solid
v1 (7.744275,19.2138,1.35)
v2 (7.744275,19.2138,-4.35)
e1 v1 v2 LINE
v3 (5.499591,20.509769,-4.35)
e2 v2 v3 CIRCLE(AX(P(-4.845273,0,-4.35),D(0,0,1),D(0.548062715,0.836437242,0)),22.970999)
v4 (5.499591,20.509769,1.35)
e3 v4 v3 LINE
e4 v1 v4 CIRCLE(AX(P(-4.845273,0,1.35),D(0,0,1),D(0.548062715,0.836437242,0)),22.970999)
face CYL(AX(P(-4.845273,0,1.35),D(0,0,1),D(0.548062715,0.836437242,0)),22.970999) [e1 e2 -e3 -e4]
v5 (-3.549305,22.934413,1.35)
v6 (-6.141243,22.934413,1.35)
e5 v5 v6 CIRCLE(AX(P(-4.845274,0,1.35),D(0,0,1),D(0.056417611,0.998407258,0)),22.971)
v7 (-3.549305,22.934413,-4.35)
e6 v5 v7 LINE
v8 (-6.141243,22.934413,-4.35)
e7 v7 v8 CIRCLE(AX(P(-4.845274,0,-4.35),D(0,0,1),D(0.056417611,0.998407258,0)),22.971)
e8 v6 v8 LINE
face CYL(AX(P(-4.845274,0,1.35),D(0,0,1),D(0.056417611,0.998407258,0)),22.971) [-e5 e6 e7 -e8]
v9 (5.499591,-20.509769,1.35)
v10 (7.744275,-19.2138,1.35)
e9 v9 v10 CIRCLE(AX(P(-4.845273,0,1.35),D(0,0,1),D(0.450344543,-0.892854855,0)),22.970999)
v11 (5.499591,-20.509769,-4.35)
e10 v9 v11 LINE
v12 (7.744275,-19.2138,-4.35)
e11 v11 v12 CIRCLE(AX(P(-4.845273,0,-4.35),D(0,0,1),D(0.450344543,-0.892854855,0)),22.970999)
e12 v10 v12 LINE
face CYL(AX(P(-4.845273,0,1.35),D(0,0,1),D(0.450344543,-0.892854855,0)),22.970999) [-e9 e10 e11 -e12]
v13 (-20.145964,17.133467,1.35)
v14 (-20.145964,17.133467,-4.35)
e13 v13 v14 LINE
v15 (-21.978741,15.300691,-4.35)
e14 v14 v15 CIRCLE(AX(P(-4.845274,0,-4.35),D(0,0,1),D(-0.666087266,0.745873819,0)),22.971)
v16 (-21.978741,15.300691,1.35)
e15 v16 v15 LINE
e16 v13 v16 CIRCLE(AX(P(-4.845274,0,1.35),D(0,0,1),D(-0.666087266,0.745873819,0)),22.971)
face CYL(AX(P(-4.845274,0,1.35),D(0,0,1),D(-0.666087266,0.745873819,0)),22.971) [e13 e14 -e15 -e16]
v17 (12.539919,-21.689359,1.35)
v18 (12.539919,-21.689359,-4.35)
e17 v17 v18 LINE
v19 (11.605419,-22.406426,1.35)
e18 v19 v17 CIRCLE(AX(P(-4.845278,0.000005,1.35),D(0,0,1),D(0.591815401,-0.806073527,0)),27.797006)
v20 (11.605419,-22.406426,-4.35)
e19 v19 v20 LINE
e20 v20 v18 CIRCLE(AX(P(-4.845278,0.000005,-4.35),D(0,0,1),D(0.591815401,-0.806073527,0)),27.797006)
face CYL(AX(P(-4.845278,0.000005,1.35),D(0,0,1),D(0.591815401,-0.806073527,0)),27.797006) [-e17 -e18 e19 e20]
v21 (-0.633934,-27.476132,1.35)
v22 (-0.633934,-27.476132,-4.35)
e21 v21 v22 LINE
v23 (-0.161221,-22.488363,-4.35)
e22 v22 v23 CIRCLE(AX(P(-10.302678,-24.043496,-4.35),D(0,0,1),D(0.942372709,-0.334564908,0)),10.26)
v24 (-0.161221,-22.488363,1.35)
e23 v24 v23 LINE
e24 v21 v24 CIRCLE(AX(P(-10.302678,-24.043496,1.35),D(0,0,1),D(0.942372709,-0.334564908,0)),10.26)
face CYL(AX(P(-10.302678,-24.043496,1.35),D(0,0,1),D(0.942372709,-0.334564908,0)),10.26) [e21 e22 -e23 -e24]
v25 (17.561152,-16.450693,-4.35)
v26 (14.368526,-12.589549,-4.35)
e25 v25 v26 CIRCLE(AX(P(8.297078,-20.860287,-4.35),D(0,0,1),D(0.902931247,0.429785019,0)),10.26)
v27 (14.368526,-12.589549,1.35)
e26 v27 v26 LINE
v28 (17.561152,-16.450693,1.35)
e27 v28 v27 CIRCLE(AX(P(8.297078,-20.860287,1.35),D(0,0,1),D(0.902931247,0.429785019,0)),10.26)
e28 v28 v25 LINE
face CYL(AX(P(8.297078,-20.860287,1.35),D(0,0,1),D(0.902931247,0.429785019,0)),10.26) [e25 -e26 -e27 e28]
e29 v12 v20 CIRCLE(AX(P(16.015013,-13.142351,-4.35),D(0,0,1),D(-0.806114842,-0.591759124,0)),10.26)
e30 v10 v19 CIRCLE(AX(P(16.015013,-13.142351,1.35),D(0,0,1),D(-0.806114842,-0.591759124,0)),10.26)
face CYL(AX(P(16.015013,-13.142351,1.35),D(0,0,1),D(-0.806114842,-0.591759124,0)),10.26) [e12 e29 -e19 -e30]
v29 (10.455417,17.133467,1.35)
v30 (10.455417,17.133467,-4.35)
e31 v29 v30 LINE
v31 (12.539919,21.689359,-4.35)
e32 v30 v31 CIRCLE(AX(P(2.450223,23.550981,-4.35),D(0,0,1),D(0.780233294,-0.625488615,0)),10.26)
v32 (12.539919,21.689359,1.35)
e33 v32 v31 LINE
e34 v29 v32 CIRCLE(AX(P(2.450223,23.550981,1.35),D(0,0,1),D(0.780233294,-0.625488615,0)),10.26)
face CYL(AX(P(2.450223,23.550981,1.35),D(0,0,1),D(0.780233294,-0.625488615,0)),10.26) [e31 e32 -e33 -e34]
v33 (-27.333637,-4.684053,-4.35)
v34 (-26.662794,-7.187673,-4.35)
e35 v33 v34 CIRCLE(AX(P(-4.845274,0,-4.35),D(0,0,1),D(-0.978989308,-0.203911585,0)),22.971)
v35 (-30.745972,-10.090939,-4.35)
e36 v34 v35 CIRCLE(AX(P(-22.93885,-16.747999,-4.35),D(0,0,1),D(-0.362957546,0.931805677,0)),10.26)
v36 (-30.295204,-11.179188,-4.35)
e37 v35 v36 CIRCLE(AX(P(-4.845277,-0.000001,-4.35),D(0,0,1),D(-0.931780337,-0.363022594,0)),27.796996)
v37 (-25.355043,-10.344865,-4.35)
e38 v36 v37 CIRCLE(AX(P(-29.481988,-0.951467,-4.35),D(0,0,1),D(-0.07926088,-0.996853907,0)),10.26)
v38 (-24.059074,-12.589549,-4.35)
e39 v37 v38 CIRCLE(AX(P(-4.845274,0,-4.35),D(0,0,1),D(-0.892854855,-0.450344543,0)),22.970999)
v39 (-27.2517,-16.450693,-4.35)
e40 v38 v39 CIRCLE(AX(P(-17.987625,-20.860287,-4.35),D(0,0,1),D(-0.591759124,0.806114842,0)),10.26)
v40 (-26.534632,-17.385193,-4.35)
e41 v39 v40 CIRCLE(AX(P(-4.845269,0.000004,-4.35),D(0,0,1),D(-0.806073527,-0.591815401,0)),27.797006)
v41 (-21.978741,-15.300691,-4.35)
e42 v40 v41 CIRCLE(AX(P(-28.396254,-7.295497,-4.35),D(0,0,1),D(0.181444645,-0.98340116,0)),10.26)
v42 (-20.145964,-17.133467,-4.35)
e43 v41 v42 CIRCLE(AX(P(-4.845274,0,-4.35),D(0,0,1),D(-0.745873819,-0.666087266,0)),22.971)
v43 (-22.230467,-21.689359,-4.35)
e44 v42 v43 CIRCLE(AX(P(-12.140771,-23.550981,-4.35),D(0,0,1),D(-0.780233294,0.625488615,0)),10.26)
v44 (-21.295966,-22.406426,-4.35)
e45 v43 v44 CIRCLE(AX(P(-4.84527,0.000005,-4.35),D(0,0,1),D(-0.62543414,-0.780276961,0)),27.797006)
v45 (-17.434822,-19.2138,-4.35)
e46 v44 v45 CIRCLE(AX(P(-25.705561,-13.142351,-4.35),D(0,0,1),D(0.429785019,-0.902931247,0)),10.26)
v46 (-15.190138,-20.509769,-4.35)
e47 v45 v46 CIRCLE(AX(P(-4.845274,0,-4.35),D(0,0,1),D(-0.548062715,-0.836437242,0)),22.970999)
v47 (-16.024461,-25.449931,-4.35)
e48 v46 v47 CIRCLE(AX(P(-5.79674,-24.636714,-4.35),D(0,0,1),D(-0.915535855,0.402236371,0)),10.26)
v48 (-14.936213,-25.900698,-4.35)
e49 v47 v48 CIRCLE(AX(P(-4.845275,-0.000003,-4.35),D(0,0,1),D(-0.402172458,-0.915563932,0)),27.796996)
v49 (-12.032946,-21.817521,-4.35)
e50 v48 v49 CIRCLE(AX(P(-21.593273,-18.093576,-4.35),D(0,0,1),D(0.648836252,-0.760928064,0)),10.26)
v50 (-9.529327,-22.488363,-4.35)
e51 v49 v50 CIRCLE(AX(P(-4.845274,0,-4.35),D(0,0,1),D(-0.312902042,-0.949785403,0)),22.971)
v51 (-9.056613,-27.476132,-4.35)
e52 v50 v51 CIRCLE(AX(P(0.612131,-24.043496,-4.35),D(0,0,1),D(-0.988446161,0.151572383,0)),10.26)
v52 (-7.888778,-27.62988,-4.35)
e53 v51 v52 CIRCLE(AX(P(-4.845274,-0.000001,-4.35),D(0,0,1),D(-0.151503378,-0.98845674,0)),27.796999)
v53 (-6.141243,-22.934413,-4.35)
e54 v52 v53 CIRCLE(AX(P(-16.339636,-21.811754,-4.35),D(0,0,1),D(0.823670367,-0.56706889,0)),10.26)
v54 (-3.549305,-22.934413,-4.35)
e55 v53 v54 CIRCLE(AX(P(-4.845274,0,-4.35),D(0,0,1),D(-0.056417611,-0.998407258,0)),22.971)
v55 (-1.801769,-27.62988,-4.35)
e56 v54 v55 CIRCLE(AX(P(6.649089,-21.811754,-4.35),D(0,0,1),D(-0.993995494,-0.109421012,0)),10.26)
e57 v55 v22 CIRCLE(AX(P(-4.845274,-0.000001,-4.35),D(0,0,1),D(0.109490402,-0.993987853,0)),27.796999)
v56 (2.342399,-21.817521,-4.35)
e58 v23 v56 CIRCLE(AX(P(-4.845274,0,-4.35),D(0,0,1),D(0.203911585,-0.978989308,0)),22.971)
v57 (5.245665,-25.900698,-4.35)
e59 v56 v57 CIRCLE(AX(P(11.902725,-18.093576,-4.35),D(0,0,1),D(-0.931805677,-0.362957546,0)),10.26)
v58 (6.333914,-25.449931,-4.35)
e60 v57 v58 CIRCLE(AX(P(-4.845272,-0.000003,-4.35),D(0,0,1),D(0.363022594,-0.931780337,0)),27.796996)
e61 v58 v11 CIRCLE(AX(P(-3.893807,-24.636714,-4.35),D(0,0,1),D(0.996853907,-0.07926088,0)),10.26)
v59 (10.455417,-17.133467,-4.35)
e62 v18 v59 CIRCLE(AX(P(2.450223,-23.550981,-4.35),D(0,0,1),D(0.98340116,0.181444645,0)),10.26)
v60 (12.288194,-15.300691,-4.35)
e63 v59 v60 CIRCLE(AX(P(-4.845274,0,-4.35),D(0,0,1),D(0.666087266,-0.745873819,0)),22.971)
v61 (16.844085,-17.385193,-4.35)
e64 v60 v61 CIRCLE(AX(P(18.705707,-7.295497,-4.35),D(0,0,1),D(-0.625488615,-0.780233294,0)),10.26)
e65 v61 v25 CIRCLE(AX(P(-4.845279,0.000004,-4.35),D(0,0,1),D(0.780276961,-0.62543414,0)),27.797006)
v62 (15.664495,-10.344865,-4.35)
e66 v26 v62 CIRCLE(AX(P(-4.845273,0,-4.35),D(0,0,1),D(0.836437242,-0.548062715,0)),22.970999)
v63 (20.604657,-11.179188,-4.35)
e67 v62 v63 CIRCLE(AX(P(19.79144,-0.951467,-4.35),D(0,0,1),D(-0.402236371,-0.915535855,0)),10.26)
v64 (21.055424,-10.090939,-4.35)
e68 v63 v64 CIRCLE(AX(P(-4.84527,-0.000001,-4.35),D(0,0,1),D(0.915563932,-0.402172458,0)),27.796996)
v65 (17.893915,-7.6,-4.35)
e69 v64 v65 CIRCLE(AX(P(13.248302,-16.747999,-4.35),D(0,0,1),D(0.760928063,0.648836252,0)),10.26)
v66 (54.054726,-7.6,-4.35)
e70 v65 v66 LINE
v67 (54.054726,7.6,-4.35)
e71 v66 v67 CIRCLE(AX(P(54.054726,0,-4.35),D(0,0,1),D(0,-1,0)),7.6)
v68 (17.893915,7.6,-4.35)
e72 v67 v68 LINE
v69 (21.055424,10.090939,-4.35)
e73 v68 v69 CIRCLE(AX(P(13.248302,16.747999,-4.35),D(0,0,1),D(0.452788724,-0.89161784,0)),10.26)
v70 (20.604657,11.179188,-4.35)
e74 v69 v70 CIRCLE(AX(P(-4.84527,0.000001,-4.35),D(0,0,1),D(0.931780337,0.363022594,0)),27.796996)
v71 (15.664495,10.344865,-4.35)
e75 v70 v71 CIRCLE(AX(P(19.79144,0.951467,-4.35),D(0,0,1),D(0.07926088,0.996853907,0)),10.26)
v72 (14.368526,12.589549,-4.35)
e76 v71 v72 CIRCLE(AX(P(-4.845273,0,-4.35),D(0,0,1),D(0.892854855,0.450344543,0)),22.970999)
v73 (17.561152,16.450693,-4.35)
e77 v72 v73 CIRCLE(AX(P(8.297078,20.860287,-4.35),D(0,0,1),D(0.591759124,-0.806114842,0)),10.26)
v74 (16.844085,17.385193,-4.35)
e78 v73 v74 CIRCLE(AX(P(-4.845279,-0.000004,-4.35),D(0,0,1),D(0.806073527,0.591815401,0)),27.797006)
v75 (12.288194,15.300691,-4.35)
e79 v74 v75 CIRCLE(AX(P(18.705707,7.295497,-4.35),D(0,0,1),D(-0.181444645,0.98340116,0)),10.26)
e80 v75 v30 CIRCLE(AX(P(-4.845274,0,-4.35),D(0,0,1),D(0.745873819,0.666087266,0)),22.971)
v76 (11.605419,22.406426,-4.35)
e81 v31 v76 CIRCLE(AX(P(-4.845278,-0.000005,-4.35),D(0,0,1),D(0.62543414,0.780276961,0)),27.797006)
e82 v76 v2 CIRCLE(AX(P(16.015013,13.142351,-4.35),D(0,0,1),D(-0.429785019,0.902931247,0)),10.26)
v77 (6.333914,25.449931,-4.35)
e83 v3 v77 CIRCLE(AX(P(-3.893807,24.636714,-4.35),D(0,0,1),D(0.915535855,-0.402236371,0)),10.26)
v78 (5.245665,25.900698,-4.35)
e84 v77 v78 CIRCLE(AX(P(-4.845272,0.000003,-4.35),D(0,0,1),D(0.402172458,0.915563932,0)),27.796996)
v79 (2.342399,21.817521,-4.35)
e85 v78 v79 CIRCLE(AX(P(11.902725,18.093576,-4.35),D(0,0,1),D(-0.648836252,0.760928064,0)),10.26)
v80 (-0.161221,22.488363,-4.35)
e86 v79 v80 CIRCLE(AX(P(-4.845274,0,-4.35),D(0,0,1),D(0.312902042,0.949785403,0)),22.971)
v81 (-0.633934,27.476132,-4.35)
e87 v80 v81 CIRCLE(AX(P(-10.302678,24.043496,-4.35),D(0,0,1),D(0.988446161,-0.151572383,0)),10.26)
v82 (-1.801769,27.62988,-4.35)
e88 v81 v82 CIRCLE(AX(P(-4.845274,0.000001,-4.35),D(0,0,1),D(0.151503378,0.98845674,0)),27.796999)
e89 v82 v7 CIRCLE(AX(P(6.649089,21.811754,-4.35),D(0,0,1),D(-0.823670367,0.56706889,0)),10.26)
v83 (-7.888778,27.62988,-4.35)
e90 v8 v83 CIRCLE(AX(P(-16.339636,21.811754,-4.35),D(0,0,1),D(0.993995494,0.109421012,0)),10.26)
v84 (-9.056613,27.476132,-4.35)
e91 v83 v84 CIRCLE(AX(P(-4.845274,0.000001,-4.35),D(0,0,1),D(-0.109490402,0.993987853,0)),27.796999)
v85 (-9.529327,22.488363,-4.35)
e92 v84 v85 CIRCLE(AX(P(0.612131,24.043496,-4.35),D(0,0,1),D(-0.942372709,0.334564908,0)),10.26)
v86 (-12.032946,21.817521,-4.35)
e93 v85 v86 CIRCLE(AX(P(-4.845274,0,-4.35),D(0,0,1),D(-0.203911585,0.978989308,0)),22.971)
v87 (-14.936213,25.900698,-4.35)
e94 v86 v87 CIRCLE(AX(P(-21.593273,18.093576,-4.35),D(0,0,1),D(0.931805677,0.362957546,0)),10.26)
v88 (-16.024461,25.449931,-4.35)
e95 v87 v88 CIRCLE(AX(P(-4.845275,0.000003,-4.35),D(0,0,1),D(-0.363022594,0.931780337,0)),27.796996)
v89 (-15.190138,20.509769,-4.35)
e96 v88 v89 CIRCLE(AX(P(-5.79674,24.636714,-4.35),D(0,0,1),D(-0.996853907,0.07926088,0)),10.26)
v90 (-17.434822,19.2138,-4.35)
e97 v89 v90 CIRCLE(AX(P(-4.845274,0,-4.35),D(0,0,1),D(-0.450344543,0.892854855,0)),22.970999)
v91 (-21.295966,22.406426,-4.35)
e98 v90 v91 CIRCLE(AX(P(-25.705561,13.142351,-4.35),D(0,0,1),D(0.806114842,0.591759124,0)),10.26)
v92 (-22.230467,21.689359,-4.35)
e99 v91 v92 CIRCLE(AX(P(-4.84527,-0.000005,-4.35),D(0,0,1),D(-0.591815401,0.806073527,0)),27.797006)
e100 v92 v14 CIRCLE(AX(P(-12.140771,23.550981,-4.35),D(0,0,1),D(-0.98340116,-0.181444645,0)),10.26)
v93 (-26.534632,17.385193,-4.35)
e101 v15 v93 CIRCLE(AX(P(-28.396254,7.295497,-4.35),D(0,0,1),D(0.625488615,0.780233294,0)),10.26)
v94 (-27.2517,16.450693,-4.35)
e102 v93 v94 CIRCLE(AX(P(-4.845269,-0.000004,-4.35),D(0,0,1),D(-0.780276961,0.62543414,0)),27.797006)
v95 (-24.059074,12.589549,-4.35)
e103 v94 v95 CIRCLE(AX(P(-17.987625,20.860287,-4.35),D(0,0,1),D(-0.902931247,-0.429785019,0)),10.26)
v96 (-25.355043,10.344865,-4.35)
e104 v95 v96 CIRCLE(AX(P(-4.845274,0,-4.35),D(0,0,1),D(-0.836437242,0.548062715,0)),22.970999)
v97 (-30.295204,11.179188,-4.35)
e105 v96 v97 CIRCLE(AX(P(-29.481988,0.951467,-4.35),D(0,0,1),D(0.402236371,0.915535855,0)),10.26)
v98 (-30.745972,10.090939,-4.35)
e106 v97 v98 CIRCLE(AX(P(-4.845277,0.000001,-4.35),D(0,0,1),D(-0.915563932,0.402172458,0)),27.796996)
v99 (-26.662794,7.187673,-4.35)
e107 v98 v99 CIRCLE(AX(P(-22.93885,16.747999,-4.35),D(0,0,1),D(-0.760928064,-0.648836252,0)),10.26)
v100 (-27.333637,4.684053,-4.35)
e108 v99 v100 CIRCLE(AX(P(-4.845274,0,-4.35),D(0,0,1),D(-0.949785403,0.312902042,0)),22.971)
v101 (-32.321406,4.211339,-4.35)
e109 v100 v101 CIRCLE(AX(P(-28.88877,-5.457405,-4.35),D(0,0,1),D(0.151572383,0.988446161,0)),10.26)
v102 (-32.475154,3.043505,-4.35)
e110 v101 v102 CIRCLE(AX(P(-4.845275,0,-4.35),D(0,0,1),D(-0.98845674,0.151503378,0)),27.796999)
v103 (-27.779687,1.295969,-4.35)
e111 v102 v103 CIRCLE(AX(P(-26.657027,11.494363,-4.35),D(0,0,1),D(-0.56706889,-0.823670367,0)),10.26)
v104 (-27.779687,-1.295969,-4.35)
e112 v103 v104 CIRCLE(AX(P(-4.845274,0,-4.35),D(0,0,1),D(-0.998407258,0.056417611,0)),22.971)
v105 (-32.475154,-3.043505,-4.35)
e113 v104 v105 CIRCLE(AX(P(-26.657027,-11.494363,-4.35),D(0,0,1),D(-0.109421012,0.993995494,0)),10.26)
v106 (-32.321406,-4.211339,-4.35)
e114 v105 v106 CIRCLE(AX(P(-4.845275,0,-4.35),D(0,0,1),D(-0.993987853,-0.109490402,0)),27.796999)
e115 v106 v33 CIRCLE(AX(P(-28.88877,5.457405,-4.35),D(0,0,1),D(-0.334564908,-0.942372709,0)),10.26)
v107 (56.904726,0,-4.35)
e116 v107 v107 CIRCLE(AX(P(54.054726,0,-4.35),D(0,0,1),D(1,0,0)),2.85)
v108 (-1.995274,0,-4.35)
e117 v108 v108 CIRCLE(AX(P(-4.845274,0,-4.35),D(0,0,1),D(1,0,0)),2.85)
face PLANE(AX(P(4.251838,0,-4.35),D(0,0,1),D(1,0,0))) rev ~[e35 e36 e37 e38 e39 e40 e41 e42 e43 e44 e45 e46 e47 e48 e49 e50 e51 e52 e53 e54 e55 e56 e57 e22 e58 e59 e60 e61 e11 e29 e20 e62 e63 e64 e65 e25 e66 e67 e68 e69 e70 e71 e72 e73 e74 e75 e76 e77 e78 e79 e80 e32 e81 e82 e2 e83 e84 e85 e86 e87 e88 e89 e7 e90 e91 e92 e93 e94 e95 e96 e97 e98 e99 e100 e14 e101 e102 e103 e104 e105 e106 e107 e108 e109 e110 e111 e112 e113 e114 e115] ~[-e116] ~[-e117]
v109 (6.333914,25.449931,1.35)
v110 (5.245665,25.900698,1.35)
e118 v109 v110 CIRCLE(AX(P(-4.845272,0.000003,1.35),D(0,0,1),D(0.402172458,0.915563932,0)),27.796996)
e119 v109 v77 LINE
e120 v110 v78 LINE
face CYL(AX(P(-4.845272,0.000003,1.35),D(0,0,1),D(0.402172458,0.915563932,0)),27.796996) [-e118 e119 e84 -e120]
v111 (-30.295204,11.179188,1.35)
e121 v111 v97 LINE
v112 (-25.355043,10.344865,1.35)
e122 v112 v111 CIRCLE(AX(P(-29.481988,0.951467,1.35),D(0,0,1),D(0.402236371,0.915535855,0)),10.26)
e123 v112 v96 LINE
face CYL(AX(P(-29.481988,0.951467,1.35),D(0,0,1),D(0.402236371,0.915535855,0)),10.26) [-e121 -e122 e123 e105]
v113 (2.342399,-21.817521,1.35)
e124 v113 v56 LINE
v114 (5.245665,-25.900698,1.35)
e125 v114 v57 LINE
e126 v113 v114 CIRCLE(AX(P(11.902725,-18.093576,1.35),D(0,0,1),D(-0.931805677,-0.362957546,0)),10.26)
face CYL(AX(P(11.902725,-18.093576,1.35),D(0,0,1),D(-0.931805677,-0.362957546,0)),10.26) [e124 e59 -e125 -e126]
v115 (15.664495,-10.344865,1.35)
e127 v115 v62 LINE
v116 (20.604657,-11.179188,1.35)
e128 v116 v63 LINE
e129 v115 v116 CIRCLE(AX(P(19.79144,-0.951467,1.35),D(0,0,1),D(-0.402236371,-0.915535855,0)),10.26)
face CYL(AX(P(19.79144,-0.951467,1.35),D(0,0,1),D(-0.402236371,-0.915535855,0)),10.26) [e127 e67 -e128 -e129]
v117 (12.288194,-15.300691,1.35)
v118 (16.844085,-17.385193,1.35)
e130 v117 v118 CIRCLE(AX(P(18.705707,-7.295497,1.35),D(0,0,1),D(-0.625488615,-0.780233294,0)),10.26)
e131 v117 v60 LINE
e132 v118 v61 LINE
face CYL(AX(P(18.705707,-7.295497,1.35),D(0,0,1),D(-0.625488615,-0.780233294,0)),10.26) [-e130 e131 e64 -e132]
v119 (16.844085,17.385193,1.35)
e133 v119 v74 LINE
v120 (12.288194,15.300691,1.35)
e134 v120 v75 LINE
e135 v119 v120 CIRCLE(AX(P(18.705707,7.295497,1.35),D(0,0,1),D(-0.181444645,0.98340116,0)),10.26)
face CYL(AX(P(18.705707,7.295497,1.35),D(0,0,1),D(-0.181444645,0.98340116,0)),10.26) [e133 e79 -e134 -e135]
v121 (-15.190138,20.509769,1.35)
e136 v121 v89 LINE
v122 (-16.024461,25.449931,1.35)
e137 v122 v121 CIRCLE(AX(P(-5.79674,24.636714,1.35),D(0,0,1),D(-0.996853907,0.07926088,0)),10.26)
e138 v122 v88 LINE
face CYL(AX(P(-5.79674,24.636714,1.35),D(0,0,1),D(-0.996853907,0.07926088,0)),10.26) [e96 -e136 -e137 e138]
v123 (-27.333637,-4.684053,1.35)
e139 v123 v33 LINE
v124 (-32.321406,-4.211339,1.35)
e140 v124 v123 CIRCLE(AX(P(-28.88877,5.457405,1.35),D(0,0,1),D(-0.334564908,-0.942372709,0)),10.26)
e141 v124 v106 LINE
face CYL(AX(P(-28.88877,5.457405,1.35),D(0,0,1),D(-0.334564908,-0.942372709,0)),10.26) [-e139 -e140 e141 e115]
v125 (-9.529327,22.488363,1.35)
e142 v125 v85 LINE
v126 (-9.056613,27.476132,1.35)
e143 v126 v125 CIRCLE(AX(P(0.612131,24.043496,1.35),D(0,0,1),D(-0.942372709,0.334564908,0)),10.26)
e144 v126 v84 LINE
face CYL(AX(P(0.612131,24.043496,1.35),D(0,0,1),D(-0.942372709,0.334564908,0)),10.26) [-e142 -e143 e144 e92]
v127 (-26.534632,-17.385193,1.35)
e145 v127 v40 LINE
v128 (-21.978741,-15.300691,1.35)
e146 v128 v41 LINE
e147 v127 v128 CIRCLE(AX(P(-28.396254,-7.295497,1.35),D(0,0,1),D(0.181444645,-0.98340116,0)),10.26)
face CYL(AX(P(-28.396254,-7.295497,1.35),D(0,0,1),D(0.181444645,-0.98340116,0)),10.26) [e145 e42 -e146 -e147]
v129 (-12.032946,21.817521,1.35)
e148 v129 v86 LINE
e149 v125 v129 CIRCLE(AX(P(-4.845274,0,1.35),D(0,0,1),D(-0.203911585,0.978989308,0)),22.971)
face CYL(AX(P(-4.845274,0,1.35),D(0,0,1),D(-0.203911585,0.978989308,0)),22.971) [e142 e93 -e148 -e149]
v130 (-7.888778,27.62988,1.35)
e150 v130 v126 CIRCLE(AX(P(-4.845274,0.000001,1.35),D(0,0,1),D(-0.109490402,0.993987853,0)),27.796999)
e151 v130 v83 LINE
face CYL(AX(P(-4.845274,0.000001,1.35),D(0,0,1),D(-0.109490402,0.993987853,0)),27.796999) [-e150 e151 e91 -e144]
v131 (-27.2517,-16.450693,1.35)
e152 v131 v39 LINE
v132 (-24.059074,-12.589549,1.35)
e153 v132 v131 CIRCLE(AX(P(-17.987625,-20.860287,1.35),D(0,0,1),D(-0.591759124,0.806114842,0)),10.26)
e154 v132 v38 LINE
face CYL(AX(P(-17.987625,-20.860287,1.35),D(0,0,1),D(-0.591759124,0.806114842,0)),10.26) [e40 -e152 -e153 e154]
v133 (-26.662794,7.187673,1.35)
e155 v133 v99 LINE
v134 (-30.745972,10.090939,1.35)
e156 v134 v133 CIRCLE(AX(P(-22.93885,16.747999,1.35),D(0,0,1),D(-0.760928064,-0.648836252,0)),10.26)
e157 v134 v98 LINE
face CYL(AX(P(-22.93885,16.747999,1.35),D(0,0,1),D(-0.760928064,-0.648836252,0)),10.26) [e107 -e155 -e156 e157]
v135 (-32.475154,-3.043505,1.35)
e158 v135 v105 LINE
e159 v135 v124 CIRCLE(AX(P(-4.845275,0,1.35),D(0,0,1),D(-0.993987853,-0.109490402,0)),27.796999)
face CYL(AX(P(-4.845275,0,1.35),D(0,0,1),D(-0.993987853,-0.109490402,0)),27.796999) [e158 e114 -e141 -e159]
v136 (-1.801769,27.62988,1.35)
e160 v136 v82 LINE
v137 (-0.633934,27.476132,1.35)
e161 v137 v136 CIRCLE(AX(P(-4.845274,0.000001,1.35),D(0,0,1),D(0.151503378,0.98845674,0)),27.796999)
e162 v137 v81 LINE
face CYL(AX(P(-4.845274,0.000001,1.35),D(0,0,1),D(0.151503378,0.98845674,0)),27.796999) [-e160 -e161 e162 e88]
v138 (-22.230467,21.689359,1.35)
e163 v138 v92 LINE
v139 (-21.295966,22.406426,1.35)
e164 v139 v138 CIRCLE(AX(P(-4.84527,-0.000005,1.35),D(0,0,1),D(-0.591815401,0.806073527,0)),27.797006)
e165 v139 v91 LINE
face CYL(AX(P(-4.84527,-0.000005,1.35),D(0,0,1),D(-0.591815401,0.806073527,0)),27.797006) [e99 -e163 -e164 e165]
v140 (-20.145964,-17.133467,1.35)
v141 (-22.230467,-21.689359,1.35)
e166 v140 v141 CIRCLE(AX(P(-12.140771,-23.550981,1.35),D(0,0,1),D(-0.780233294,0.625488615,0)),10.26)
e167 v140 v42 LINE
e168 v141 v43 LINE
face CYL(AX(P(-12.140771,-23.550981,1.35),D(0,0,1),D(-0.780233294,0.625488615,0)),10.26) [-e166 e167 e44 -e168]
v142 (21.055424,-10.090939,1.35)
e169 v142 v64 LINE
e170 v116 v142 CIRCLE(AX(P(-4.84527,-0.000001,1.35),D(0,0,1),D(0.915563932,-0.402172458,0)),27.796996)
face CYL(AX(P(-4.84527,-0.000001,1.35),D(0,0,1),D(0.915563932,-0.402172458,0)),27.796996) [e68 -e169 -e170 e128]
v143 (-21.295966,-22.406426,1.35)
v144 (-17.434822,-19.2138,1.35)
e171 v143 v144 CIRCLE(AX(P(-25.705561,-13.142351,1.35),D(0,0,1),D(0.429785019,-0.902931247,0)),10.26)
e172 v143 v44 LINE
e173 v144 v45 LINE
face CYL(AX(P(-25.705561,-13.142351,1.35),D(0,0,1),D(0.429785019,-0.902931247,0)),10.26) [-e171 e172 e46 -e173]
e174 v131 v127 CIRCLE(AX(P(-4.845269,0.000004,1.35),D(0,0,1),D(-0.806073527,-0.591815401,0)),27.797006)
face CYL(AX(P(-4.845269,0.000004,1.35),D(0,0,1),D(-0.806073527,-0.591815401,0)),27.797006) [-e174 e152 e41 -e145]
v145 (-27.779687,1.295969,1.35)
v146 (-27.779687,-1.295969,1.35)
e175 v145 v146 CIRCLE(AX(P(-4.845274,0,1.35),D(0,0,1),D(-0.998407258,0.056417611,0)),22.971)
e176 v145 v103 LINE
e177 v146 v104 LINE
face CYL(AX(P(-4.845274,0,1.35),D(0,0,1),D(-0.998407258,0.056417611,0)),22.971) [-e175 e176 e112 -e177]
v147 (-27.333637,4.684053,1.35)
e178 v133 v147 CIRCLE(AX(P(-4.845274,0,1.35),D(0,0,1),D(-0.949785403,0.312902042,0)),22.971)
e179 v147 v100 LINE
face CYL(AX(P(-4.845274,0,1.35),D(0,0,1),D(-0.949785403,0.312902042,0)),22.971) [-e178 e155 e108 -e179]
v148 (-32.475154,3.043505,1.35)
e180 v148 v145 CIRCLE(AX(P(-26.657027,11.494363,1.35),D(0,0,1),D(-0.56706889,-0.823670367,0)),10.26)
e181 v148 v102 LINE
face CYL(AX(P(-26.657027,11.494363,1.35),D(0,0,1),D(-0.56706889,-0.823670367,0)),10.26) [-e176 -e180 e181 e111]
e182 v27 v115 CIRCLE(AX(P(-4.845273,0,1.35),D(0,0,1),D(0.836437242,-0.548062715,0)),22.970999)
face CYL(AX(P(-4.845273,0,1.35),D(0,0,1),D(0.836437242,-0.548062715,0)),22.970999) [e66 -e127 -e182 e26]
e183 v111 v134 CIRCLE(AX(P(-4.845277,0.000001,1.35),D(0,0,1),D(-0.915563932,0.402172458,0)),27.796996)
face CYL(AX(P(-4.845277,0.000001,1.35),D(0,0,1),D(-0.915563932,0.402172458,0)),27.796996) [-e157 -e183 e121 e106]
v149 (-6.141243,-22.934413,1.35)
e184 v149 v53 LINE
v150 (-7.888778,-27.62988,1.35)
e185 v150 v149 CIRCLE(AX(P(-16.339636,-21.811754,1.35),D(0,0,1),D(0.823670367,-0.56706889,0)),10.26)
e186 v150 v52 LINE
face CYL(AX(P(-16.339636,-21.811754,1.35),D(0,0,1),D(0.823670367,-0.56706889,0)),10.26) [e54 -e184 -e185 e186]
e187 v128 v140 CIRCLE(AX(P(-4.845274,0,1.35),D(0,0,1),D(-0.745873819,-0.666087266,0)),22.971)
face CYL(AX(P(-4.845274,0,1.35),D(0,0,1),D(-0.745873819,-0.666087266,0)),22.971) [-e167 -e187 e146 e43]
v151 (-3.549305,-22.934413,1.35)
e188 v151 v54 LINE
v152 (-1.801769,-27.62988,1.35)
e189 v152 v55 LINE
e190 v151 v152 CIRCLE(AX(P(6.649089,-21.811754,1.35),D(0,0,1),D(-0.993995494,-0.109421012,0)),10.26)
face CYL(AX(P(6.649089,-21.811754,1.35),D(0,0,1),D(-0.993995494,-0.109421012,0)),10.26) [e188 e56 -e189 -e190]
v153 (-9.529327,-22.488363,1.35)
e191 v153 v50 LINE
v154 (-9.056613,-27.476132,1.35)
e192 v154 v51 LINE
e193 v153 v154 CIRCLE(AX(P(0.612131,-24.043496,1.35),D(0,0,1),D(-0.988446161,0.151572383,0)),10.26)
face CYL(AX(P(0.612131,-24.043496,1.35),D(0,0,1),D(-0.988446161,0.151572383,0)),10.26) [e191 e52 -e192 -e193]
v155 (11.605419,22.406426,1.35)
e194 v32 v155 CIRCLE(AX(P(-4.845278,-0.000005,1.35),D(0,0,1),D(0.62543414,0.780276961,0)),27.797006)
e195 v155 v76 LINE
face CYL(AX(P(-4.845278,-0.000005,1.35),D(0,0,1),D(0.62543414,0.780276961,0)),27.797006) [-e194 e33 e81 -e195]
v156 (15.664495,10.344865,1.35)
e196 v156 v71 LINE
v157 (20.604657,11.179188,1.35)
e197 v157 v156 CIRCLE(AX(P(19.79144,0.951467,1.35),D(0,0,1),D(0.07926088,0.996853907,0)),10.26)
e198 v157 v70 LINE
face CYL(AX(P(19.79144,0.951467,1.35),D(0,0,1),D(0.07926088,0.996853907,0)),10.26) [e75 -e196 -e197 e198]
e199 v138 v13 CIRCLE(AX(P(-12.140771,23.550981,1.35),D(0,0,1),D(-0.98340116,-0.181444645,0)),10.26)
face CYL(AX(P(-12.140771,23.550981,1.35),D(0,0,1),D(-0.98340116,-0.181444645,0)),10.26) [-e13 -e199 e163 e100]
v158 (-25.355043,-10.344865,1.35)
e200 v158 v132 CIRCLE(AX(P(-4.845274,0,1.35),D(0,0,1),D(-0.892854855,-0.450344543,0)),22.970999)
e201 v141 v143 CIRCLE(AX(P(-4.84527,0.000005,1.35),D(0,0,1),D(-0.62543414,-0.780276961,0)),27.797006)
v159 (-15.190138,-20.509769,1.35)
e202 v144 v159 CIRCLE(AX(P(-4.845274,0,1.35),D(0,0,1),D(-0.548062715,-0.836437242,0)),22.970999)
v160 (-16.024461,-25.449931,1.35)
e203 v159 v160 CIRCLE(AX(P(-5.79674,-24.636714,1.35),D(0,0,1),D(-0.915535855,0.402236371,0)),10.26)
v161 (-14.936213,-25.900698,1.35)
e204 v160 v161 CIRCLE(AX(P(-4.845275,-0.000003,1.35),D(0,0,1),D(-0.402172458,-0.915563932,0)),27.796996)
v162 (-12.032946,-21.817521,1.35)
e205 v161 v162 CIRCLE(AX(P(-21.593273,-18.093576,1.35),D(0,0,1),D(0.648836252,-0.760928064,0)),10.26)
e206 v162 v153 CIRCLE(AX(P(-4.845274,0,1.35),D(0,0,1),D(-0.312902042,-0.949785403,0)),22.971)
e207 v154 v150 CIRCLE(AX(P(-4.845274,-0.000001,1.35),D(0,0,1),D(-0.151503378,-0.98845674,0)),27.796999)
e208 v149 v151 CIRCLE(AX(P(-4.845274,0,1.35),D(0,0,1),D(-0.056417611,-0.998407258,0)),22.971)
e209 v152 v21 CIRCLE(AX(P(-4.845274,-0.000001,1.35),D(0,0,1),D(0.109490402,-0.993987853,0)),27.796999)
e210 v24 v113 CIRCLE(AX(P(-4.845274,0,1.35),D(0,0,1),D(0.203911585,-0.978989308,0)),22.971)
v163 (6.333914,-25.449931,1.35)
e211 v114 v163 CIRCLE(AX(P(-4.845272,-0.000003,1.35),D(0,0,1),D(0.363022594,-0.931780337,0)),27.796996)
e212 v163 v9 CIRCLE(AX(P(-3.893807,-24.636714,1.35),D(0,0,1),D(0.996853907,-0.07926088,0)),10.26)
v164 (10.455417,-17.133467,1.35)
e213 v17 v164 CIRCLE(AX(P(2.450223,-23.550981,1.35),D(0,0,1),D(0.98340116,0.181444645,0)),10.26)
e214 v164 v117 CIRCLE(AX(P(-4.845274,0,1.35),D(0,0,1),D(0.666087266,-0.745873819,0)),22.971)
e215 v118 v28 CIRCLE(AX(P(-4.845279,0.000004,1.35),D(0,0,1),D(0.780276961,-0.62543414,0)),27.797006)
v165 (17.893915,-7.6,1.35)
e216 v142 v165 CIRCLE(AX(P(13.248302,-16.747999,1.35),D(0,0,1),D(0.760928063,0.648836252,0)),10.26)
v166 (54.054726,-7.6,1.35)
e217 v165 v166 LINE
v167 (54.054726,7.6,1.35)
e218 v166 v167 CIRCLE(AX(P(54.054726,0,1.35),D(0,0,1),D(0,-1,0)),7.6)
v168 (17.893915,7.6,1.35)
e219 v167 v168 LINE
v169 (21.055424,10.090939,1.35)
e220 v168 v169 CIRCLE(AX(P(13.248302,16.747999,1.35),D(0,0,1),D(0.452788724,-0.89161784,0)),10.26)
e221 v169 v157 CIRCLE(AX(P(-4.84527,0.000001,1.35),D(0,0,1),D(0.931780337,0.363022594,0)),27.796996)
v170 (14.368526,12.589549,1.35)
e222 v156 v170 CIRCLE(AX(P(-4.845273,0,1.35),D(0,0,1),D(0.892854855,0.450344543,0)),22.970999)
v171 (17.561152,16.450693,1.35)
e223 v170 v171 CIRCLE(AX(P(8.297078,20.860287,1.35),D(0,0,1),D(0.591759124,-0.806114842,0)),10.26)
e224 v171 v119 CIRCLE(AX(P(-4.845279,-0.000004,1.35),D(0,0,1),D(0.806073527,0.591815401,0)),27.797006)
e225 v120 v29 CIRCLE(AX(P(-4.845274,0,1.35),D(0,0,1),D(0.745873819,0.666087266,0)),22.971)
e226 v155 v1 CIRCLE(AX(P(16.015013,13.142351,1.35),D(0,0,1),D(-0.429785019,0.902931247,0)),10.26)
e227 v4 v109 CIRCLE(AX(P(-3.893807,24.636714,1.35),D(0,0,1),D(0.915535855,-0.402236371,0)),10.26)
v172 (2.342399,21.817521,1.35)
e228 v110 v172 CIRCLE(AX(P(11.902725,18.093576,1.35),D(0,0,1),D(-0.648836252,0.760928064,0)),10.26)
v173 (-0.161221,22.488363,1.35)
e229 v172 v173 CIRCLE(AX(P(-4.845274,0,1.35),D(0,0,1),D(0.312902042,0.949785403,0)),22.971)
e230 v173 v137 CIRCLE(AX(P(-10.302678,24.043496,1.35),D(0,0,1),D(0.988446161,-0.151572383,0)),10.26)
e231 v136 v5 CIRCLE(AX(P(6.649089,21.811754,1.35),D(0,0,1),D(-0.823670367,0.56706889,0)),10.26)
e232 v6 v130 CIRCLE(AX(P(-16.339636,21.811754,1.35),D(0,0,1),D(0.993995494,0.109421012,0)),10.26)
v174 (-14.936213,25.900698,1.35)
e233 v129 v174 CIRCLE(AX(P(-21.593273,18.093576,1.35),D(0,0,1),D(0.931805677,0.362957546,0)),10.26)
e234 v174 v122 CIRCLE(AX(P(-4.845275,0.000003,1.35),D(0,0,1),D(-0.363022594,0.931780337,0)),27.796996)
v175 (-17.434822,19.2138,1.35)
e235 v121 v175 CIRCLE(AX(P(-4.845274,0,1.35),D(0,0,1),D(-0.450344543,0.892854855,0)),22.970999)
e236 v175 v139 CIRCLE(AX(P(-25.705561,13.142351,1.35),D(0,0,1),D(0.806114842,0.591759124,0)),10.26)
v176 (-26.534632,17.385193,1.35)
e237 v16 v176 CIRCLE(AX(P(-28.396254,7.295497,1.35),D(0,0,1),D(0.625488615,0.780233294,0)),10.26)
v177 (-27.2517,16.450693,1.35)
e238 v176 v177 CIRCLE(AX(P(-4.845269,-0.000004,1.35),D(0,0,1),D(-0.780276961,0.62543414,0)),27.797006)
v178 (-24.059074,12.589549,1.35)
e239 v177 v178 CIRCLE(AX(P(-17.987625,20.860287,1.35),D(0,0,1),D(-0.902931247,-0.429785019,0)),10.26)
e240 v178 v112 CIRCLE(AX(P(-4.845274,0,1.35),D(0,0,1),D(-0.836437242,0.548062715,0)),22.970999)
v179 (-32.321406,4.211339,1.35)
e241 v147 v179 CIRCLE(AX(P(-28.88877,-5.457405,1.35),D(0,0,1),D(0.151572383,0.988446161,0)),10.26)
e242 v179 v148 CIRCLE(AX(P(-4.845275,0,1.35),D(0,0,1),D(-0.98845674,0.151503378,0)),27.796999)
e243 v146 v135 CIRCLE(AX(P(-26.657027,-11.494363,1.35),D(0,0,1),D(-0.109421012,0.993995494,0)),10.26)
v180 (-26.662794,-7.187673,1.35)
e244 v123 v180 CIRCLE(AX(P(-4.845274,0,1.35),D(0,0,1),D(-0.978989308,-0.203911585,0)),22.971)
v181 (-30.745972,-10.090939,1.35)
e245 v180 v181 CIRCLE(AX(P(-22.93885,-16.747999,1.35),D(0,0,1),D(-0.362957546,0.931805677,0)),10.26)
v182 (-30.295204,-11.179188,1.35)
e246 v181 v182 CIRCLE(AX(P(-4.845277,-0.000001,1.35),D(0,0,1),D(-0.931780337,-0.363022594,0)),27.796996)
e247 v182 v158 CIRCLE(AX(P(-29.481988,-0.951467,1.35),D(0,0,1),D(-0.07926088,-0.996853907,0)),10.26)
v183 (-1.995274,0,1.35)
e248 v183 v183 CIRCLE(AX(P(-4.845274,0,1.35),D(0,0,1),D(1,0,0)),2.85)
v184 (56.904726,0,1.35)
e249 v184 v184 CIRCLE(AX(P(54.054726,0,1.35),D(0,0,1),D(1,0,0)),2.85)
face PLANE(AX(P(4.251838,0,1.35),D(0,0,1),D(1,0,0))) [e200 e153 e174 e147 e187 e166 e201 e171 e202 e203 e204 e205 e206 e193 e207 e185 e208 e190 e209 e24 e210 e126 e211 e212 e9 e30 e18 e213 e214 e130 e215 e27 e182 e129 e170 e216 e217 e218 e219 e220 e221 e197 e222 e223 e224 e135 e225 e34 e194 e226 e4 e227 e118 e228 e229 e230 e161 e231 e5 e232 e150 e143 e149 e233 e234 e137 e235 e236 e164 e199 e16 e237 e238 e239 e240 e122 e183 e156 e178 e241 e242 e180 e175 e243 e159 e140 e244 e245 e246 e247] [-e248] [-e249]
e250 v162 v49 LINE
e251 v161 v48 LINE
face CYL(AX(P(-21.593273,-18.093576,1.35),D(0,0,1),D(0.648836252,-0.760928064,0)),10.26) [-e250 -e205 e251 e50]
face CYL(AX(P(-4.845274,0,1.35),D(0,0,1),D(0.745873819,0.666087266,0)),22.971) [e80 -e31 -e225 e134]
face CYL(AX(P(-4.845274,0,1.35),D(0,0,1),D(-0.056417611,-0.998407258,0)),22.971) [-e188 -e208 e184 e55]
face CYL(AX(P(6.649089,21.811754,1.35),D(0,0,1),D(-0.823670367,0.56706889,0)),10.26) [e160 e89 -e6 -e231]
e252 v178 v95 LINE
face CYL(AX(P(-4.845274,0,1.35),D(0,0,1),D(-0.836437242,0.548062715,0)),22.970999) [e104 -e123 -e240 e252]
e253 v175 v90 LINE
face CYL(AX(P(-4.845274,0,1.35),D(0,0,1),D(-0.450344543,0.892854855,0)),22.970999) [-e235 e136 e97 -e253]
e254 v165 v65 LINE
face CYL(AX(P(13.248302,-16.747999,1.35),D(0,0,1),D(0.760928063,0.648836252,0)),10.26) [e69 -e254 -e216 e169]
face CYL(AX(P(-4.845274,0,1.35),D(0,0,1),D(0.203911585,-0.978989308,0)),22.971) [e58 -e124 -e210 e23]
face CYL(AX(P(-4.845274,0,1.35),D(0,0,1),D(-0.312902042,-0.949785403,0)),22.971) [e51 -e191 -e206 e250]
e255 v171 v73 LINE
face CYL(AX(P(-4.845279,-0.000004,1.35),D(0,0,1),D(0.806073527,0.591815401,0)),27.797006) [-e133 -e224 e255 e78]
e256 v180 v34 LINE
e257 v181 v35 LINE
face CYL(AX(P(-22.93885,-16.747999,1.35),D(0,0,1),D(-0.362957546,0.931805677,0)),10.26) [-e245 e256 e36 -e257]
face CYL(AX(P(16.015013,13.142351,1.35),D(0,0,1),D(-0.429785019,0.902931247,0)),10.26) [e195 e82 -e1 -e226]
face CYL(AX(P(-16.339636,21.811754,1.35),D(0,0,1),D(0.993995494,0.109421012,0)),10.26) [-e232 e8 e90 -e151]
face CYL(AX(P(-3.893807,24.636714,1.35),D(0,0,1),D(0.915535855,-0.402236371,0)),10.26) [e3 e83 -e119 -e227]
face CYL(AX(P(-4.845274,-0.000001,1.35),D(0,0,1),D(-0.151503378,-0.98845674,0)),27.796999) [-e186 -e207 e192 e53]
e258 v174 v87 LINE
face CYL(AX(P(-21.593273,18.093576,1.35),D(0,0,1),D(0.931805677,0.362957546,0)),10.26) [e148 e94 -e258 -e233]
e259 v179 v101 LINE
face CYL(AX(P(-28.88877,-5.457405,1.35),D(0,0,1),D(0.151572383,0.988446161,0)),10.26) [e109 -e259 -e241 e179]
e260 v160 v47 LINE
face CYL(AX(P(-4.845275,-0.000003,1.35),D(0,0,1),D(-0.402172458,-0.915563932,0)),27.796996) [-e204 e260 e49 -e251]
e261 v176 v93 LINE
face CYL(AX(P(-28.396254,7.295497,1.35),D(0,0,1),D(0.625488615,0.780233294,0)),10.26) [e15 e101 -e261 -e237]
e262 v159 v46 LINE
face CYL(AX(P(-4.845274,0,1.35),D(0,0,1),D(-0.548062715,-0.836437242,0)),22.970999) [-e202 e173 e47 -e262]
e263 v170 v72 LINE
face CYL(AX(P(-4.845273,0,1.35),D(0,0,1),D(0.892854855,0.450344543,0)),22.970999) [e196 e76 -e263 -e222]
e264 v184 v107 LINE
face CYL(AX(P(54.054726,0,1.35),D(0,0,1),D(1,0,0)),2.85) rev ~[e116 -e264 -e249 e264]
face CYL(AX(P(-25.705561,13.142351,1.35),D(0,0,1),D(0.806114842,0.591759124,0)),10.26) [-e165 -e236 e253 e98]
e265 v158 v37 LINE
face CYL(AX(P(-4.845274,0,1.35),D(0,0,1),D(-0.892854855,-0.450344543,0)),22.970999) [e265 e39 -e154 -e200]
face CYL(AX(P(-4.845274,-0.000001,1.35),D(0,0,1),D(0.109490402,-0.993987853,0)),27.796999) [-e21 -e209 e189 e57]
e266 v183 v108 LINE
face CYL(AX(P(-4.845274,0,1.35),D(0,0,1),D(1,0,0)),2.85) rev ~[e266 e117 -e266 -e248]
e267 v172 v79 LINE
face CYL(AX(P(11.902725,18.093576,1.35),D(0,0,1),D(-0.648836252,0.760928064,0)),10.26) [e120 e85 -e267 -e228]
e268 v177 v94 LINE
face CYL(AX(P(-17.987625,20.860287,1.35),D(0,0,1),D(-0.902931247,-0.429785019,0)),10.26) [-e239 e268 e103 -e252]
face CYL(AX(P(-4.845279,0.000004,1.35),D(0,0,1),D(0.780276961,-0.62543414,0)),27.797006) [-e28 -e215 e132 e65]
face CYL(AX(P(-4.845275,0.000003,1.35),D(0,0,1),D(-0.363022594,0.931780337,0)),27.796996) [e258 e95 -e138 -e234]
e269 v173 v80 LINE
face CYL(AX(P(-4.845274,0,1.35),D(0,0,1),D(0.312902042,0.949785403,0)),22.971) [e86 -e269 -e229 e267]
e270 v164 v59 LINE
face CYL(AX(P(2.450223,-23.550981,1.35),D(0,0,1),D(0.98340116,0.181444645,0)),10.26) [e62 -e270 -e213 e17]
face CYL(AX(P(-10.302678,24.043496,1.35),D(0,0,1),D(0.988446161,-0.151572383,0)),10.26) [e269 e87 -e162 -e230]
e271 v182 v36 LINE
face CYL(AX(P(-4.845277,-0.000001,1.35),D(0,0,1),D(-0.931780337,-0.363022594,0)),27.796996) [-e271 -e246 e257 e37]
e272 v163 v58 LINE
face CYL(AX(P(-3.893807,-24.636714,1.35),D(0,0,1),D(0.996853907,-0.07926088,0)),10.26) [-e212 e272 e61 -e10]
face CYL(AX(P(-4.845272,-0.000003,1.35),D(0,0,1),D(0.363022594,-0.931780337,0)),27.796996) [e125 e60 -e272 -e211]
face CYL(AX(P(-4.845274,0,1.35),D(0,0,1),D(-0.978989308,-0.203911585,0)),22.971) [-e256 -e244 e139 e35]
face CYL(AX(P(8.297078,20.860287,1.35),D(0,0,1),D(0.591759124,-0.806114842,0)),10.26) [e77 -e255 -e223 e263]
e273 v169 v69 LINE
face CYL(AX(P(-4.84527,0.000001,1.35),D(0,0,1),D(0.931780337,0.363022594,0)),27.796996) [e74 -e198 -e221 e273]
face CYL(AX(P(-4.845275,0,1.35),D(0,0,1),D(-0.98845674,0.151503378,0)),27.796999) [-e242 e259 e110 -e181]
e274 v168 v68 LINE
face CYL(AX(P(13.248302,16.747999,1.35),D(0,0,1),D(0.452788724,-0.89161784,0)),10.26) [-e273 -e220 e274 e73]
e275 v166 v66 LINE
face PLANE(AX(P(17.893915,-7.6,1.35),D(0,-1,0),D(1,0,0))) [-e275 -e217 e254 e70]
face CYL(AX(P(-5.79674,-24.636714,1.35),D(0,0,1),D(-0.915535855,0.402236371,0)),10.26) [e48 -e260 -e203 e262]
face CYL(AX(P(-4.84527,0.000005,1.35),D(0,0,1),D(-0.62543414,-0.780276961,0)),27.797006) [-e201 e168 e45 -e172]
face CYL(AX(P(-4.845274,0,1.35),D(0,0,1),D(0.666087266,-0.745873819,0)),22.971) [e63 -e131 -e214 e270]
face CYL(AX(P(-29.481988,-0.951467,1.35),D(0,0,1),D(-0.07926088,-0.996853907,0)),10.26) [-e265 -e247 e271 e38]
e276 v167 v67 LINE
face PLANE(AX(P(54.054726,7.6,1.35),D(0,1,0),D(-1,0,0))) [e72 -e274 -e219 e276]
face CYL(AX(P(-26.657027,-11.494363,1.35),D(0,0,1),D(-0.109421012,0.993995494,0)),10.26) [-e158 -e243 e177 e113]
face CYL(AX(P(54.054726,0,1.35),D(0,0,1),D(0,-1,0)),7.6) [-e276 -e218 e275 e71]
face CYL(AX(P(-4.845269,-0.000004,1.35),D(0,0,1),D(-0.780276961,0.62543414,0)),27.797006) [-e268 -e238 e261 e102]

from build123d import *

# Parameters (mm, degrees)
SKETCH1_R           = 1.5
BOSS_EXTRUDE1_DEPTH = 3
SCALE1_SCALE        = 1.9


with BuildPart() as part:
    # Sketch1 → Boss-Extrude1 (new body)
    with BuildSketch(Plane.XY):
        with BuildLine():
            ThreePointArc((31, -4), (35, 0), (31, 4))
            Line((31, 4), (11.967993881, 4))
            ThreePointArc((11.967993881, 4), (12.864888434, 4.573115684), (13.63194632, 5.311020574))
            ThreePointArc((13.63194632, 5.311020574), (13.516357561, 5.598658616), (13.394700346, 5.883783021))
            ThreePointArc((13.394700346, 5.883783021), (12.067442445, 5.825370588), (10.794615193, 5.444665539))
            ThreePointArc((10.794615193, 5.444665539), (10.470247132, 6.045), (10.112526268, 6.626078212))
            ThreePointArc((10.112526268, 6.626078212), (11.078640138, 7.538026423), (11.79285574, 8.658259265))
            ThreePointArc((11.79285574, 8.658259265), (11.606759368, 8.906179706), (11.415451897, 9.150101529))
            ThreePointArc((11.415451897, 9.150101529), (10.148537462, 8.750159829), (9.017614465, 8.052995056))
            ThreePointArc((9.017614465, 8.052995056), (8.548920985, 8.548920985), (8.052995056, 9.017614465))
            ThreePointArc((8.052995056, 9.017614465), (8.750159829, 10.148537462), (9.150101529, 11.415451897))
            ThreePointArc((9.150101529, 11.415451897), (8.906179706, 11.606759368), (8.658259265, 11.79285574))
            ThreePointArc((8.658259265, 11.79285574), (7.538026423, 11.078640138), (6.626078212, 10.112526268))
            ThreePointArc((6.626078212, 10.112526268), (6.045, 10.470247132), (5.444665539, 10.794615193))
            ThreePointArc((5.444665539, 10.794615193), (5.825370588, 12.067442445), (5.883783021, 13.394700346))
            ThreePointArc((5.883783021, 13.394700346), (5.598658616, 13.516357561), (5.311020574, 13.63194632))
            ThreePointArc((5.311020574, 13.63194632), (4.413811339, 12.65212943), (3.78298568, 11.482905527))
            ThreePointArc((3.78298568, 11.482905527), (3.129122255, 11.67804324), (2.465291063, 11.835980736))
            ThreePointArc((2.465291063, 11.835980736), (2.503591968, 13.163971168), (2.216494423, 14.461122103))
            ThreePointArc((2.216494423, 14.461122103), (1.909598192, 14.504838322), (1.601844607, 14.542042286))
            ThreePointArc((1.601844607, 14.542042286), (0.988802307, 13.36339701), (0.682088925, 12.070743751))
            ThreePointArc((0.682088925, 12.070743751), (0, 12.09), (-0.682088925, 12.070743751))
            ThreePointArc((-0.682088925, 12.070743751), (-0.988802307, 13.36339701), (-1.601844607, 14.542042286))
            ThreePointArc((-1.601844607, 14.542042286), (-1.909598192, 14.504838322), (-2.216494423, 14.461122103))
            ThreePointArc((-2.216494423, 14.461122103), (-2.503591968, 13.163971168), (-2.465291063, 11.835980736))
            ThreePointArc((-2.465291063, 11.835980736), (-3.129122255, 11.67804324), (-3.78298568, 11.482905527))
            ThreePointArc((-3.78298568, 11.482905527), (-4.413811339, 12.65212943), (-5.311020574, 13.63194632))
            ThreePointArc((-5.311020574, 13.63194632), (-5.598658616, 13.516357561), (-5.883783021, 13.394700346))
            ThreePointArc((-5.883783021, 13.394700346), (-5.825370588, 12.067442445), (-5.444665539, 10.794615193))
            ThreePointArc((-5.444665539, 10.794615193), (-6.045, 10.470247132), (-6.626078212, 10.112526268))
            ThreePointArc((-6.626078212, 10.112526268), (-7.538026423, 11.078640138), (-8.658259265, 11.79285574))
            ThreePointArc((-8.658259265, 11.79285574), (-8.906179706, 11.606759368), (-9.150101529, 11.415451897))
            ThreePointArc((-9.150101529, 11.415451897), (-8.750159829, 10.148537462), (-8.052995056, 9.017614465))
            ThreePointArc((-8.052995056, 9.017614465), (-8.548920985, 8.548920985), (-9.017614465, 8.052995056))
            ThreePointArc((-9.017614465, 8.052995056), (-10.148537462, 8.750159829), (-11.415451897, 9.150101529))
            ThreePointArc((-11.415451897, 9.150101529), (-11.606759368, 8.906179706), (-11.79285574, 8.658259265))
            ThreePointArc((-11.79285574, 8.658259265), (-11.078640138, 7.538026423), (-10.112526268, 6.626078212))
            ThreePointArc((-10.112526268, 6.626078212), (-10.470247132, 6.045), (-10.794615193, 5.444665539))
            ThreePointArc((-10.794615193, 5.444665539), (-12.067442445, 5.825370588), (-13.394700346, 5.883783021))
            ThreePointArc((-13.394700346, 5.883783021), (-13.516357561, 5.598658616), (-13.63194632, 5.311020574))
            ThreePointArc((-13.63194632, 5.311020574), (-12.65212943, 4.413811339), (-11.482905527, 3.78298568))
            ThreePointArc((-11.482905527, 3.78298568), (-11.67804324, 3.129122255), (-11.835980736, 2.465291063))
            ThreePointArc((-11.835980736, 2.465291063), (-13.163971168, 2.503591968), (-14.461122103, 2.216494423))
            ThreePointArc((-14.461122103, 2.216494423), (-14.504838322, 1.909598192), (-14.542042286, 1.601844607))
            ThreePointArc((-14.542042286, 1.601844607), (-13.36339701, 0.988802307), (-12.070743751, 0.682088925))
            ThreePointArc((-12.070743751, 0.682088925), (-12.09, 0), (-12.070743751, -0.682088925))
            ThreePointArc((-12.070743751, -0.682088925), (-13.36339701, -0.988802307), (-14.542042286, -1.601844607))
            ThreePointArc((-14.542042286, -1.601844607), (-14.504838322, -1.909598192), (-14.461122103, -2.216494423))
            ThreePointArc((-14.461122103, -2.216494423), (-13.163971168, -2.503591968), (-11.835980736, -2.465291063))
            ThreePointArc((-11.835980736, -2.465291063), (-11.67804324, -3.129122255), (-11.482905527, -3.78298568))
            ThreePointArc((-11.482905527, -3.78298568), (-12.65212943, -4.413811339), (-13.63194632, -5.311020574))
            ThreePointArc((-13.63194632, -5.311020574), (-13.516357561, -5.598658616), (-13.394700346, -5.883783021))
            ThreePointArc((-13.394700346, -5.883783021), (-12.067442445, -5.825370588), (-10.794615193, -5.444665539))
            ThreePointArc((-10.794615193, -5.444665539), (-10.470247132, -6.045), (-10.112526268, -6.626078212))
            ThreePointArc((-10.112526268, -6.626078212), (-11.078640138, -7.538026423), (-11.79285574, -8.658259265))
            ThreePointArc((-11.79285574, -8.658259265), (-11.606759368, -8.906179706), (-11.415451897, -9.150101529))
            ThreePointArc((-11.415451897, -9.150101529), (-10.148537462, -8.750159829), (-9.017614465, -8.052995056))
            ThreePointArc((-9.017614465, -8.052995056), (-8.548920985, -8.548920985), (-8.052995056, -9.017614465))
            ThreePointArc((-8.052995056, -9.017614465), (-8.750159829, -10.148537462), (-9.150101529, -11.415451897))
            ThreePointArc((-9.150101529, -11.415451897), (-8.906179706, -11.606759368), (-8.658259265, -11.79285574))
            ThreePointArc((-8.658259265, -11.79285574), (-7.538026423, -11.078640138), (-6.626078212, -10.112526268))
            ThreePointArc((-6.626078212, -10.112526268), (-6.045, -10.470247132), (-5.444665539, -10.794615193))
            ThreePointArc((-5.444665539, -10.794615193), (-5.825370588, -12.067442445), (-5.883783021, -13.394700346))
            ThreePointArc((-5.883783021, -13.394700346), (-5.598658616, -13.516357561), (-5.311020574, -13.63194632))
            ThreePointArc((-5.311020574, -13.63194632), (-4.413811339, -12.65212943), (-3.78298568, -11.482905527))
            ThreePointArc((-3.78298568, -11.482905527), (-3.129122255, -11.67804324), (-2.465291063, -11.835980736))
            ThreePointArc((-2.465291063, -11.835980736), (-2.503591968, -13.163971168), (-2.216494423, -14.461122103))
            ThreePointArc((-2.216494423, -14.461122103), (-1.909598192, -14.504838322), (-1.601844607, -14.542042286))
            ThreePointArc((-1.601844607, -14.542042286), (-0.988802307, -13.36339701), (-0.682088925, -12.070743751))
            ThreePointArc((-0.682088925, -12.070743751), (0, -12.09), (0.682088925, -12.070743751))
            ThreePointArc((0.682088925, -12.070743751), (0.988802307, -13.36339701), (1.601844607, -14.542042286))
            ThreePointArc((1.601844607, -14.542042286), (1.909598192, -14.504838322), (2.216494423, -14.461122103))
            ThreePointArc((2.216494423, -14.461122103), (2.503591968, -13.163971168), (2.465291063, -11.835980736))
            ThreePointArc((2.465291063, -11.835980736), (3.129122255, -11.67804324), (3.78298568, -11.482905527))
            ThreePointArc((3.78298568, -11.482905527), (4.413811339, -12.65212943), (5.311020574, -13.63194632))
            ThreePointArc((5.311020574, -13.63194632), (5.598658616, -13.516357561), (5.883783021, -13.394700346))
            ThreePointArc((5.883783021, -13.394700346), (5.825370588, -12.067442445), (5.444665539, -10.794615193))
            ThreePointArc((5.444665539, -10.794615193), (6.045, -10.470247132), (6.626078212, -10.112526268))
            ThreePointArc((6.626078212, -10.112526268), (7.538026423, -11.078640138), (8.658259265, -11.79285574))
            ThreePointArc((8.658259265, -11.79285574), (8.906179706, -11.606759368), (9.150101529, -11.415451897))
            ThreePointArc((9.150101529, -11.415451897), (8.750159829, -10.148537462), (8.052995056, -9.017614465))
            ThreePointArc((8.052995056, -9.017614465), (8.548920985, -8.548920985), (9.017614465, -8.052995056))
            ThreePointArc((9.017614465, -8.052995056), (10.148537462, -8.750159829), (11.415451897, -9.150101529))
            ThreePointArc((11.415451897, -9.150101529), (11.606759368, -8.906179706), (11.79285574, -8.658259265))
            ThreePointArc((11.79285574, -8.658259265), (11.078640138, -7.538026423), (10.112526268, -6.626078212))
            ThreePointArc((10.112526268, -6.626078212), (10.470247132, -6.045), (10.794615193, -5.444665539))
            ThreePointArc((10.794615193, -5.444665539), (12.067442445, -5.825370588), (13.394700346, -5.883783021))
            ThreePointArc((13.394700346, -5.883783021), (13.516357561, -5.598658616), (13.63194632, -5.311020574))
            ThreePointArc((13.63194632, -5.311020574), (12.864888434, -4.573115684), (11.967993881, -4))
            Line((11.967993881, -4), (31, -4))
        make_face()
        Circle(SKETCH1_R, mode=Mode.SUBTRACT)
        with Locations((31, 0)):
            Circle(SKETCH1_R, mode=Mode.SUBTRACT)
    extrude(amount=-BOSS_EXTRUDE1_DEPTH)


with BuildPart() as part_1:
    # Scale1: scaled about (5.383637445, 0, -1.5)
    add(part.part.scale(SCALE1_SCALE).moved(Location((-4.8452737, 0, 1.35))))


solid = part_1.part
